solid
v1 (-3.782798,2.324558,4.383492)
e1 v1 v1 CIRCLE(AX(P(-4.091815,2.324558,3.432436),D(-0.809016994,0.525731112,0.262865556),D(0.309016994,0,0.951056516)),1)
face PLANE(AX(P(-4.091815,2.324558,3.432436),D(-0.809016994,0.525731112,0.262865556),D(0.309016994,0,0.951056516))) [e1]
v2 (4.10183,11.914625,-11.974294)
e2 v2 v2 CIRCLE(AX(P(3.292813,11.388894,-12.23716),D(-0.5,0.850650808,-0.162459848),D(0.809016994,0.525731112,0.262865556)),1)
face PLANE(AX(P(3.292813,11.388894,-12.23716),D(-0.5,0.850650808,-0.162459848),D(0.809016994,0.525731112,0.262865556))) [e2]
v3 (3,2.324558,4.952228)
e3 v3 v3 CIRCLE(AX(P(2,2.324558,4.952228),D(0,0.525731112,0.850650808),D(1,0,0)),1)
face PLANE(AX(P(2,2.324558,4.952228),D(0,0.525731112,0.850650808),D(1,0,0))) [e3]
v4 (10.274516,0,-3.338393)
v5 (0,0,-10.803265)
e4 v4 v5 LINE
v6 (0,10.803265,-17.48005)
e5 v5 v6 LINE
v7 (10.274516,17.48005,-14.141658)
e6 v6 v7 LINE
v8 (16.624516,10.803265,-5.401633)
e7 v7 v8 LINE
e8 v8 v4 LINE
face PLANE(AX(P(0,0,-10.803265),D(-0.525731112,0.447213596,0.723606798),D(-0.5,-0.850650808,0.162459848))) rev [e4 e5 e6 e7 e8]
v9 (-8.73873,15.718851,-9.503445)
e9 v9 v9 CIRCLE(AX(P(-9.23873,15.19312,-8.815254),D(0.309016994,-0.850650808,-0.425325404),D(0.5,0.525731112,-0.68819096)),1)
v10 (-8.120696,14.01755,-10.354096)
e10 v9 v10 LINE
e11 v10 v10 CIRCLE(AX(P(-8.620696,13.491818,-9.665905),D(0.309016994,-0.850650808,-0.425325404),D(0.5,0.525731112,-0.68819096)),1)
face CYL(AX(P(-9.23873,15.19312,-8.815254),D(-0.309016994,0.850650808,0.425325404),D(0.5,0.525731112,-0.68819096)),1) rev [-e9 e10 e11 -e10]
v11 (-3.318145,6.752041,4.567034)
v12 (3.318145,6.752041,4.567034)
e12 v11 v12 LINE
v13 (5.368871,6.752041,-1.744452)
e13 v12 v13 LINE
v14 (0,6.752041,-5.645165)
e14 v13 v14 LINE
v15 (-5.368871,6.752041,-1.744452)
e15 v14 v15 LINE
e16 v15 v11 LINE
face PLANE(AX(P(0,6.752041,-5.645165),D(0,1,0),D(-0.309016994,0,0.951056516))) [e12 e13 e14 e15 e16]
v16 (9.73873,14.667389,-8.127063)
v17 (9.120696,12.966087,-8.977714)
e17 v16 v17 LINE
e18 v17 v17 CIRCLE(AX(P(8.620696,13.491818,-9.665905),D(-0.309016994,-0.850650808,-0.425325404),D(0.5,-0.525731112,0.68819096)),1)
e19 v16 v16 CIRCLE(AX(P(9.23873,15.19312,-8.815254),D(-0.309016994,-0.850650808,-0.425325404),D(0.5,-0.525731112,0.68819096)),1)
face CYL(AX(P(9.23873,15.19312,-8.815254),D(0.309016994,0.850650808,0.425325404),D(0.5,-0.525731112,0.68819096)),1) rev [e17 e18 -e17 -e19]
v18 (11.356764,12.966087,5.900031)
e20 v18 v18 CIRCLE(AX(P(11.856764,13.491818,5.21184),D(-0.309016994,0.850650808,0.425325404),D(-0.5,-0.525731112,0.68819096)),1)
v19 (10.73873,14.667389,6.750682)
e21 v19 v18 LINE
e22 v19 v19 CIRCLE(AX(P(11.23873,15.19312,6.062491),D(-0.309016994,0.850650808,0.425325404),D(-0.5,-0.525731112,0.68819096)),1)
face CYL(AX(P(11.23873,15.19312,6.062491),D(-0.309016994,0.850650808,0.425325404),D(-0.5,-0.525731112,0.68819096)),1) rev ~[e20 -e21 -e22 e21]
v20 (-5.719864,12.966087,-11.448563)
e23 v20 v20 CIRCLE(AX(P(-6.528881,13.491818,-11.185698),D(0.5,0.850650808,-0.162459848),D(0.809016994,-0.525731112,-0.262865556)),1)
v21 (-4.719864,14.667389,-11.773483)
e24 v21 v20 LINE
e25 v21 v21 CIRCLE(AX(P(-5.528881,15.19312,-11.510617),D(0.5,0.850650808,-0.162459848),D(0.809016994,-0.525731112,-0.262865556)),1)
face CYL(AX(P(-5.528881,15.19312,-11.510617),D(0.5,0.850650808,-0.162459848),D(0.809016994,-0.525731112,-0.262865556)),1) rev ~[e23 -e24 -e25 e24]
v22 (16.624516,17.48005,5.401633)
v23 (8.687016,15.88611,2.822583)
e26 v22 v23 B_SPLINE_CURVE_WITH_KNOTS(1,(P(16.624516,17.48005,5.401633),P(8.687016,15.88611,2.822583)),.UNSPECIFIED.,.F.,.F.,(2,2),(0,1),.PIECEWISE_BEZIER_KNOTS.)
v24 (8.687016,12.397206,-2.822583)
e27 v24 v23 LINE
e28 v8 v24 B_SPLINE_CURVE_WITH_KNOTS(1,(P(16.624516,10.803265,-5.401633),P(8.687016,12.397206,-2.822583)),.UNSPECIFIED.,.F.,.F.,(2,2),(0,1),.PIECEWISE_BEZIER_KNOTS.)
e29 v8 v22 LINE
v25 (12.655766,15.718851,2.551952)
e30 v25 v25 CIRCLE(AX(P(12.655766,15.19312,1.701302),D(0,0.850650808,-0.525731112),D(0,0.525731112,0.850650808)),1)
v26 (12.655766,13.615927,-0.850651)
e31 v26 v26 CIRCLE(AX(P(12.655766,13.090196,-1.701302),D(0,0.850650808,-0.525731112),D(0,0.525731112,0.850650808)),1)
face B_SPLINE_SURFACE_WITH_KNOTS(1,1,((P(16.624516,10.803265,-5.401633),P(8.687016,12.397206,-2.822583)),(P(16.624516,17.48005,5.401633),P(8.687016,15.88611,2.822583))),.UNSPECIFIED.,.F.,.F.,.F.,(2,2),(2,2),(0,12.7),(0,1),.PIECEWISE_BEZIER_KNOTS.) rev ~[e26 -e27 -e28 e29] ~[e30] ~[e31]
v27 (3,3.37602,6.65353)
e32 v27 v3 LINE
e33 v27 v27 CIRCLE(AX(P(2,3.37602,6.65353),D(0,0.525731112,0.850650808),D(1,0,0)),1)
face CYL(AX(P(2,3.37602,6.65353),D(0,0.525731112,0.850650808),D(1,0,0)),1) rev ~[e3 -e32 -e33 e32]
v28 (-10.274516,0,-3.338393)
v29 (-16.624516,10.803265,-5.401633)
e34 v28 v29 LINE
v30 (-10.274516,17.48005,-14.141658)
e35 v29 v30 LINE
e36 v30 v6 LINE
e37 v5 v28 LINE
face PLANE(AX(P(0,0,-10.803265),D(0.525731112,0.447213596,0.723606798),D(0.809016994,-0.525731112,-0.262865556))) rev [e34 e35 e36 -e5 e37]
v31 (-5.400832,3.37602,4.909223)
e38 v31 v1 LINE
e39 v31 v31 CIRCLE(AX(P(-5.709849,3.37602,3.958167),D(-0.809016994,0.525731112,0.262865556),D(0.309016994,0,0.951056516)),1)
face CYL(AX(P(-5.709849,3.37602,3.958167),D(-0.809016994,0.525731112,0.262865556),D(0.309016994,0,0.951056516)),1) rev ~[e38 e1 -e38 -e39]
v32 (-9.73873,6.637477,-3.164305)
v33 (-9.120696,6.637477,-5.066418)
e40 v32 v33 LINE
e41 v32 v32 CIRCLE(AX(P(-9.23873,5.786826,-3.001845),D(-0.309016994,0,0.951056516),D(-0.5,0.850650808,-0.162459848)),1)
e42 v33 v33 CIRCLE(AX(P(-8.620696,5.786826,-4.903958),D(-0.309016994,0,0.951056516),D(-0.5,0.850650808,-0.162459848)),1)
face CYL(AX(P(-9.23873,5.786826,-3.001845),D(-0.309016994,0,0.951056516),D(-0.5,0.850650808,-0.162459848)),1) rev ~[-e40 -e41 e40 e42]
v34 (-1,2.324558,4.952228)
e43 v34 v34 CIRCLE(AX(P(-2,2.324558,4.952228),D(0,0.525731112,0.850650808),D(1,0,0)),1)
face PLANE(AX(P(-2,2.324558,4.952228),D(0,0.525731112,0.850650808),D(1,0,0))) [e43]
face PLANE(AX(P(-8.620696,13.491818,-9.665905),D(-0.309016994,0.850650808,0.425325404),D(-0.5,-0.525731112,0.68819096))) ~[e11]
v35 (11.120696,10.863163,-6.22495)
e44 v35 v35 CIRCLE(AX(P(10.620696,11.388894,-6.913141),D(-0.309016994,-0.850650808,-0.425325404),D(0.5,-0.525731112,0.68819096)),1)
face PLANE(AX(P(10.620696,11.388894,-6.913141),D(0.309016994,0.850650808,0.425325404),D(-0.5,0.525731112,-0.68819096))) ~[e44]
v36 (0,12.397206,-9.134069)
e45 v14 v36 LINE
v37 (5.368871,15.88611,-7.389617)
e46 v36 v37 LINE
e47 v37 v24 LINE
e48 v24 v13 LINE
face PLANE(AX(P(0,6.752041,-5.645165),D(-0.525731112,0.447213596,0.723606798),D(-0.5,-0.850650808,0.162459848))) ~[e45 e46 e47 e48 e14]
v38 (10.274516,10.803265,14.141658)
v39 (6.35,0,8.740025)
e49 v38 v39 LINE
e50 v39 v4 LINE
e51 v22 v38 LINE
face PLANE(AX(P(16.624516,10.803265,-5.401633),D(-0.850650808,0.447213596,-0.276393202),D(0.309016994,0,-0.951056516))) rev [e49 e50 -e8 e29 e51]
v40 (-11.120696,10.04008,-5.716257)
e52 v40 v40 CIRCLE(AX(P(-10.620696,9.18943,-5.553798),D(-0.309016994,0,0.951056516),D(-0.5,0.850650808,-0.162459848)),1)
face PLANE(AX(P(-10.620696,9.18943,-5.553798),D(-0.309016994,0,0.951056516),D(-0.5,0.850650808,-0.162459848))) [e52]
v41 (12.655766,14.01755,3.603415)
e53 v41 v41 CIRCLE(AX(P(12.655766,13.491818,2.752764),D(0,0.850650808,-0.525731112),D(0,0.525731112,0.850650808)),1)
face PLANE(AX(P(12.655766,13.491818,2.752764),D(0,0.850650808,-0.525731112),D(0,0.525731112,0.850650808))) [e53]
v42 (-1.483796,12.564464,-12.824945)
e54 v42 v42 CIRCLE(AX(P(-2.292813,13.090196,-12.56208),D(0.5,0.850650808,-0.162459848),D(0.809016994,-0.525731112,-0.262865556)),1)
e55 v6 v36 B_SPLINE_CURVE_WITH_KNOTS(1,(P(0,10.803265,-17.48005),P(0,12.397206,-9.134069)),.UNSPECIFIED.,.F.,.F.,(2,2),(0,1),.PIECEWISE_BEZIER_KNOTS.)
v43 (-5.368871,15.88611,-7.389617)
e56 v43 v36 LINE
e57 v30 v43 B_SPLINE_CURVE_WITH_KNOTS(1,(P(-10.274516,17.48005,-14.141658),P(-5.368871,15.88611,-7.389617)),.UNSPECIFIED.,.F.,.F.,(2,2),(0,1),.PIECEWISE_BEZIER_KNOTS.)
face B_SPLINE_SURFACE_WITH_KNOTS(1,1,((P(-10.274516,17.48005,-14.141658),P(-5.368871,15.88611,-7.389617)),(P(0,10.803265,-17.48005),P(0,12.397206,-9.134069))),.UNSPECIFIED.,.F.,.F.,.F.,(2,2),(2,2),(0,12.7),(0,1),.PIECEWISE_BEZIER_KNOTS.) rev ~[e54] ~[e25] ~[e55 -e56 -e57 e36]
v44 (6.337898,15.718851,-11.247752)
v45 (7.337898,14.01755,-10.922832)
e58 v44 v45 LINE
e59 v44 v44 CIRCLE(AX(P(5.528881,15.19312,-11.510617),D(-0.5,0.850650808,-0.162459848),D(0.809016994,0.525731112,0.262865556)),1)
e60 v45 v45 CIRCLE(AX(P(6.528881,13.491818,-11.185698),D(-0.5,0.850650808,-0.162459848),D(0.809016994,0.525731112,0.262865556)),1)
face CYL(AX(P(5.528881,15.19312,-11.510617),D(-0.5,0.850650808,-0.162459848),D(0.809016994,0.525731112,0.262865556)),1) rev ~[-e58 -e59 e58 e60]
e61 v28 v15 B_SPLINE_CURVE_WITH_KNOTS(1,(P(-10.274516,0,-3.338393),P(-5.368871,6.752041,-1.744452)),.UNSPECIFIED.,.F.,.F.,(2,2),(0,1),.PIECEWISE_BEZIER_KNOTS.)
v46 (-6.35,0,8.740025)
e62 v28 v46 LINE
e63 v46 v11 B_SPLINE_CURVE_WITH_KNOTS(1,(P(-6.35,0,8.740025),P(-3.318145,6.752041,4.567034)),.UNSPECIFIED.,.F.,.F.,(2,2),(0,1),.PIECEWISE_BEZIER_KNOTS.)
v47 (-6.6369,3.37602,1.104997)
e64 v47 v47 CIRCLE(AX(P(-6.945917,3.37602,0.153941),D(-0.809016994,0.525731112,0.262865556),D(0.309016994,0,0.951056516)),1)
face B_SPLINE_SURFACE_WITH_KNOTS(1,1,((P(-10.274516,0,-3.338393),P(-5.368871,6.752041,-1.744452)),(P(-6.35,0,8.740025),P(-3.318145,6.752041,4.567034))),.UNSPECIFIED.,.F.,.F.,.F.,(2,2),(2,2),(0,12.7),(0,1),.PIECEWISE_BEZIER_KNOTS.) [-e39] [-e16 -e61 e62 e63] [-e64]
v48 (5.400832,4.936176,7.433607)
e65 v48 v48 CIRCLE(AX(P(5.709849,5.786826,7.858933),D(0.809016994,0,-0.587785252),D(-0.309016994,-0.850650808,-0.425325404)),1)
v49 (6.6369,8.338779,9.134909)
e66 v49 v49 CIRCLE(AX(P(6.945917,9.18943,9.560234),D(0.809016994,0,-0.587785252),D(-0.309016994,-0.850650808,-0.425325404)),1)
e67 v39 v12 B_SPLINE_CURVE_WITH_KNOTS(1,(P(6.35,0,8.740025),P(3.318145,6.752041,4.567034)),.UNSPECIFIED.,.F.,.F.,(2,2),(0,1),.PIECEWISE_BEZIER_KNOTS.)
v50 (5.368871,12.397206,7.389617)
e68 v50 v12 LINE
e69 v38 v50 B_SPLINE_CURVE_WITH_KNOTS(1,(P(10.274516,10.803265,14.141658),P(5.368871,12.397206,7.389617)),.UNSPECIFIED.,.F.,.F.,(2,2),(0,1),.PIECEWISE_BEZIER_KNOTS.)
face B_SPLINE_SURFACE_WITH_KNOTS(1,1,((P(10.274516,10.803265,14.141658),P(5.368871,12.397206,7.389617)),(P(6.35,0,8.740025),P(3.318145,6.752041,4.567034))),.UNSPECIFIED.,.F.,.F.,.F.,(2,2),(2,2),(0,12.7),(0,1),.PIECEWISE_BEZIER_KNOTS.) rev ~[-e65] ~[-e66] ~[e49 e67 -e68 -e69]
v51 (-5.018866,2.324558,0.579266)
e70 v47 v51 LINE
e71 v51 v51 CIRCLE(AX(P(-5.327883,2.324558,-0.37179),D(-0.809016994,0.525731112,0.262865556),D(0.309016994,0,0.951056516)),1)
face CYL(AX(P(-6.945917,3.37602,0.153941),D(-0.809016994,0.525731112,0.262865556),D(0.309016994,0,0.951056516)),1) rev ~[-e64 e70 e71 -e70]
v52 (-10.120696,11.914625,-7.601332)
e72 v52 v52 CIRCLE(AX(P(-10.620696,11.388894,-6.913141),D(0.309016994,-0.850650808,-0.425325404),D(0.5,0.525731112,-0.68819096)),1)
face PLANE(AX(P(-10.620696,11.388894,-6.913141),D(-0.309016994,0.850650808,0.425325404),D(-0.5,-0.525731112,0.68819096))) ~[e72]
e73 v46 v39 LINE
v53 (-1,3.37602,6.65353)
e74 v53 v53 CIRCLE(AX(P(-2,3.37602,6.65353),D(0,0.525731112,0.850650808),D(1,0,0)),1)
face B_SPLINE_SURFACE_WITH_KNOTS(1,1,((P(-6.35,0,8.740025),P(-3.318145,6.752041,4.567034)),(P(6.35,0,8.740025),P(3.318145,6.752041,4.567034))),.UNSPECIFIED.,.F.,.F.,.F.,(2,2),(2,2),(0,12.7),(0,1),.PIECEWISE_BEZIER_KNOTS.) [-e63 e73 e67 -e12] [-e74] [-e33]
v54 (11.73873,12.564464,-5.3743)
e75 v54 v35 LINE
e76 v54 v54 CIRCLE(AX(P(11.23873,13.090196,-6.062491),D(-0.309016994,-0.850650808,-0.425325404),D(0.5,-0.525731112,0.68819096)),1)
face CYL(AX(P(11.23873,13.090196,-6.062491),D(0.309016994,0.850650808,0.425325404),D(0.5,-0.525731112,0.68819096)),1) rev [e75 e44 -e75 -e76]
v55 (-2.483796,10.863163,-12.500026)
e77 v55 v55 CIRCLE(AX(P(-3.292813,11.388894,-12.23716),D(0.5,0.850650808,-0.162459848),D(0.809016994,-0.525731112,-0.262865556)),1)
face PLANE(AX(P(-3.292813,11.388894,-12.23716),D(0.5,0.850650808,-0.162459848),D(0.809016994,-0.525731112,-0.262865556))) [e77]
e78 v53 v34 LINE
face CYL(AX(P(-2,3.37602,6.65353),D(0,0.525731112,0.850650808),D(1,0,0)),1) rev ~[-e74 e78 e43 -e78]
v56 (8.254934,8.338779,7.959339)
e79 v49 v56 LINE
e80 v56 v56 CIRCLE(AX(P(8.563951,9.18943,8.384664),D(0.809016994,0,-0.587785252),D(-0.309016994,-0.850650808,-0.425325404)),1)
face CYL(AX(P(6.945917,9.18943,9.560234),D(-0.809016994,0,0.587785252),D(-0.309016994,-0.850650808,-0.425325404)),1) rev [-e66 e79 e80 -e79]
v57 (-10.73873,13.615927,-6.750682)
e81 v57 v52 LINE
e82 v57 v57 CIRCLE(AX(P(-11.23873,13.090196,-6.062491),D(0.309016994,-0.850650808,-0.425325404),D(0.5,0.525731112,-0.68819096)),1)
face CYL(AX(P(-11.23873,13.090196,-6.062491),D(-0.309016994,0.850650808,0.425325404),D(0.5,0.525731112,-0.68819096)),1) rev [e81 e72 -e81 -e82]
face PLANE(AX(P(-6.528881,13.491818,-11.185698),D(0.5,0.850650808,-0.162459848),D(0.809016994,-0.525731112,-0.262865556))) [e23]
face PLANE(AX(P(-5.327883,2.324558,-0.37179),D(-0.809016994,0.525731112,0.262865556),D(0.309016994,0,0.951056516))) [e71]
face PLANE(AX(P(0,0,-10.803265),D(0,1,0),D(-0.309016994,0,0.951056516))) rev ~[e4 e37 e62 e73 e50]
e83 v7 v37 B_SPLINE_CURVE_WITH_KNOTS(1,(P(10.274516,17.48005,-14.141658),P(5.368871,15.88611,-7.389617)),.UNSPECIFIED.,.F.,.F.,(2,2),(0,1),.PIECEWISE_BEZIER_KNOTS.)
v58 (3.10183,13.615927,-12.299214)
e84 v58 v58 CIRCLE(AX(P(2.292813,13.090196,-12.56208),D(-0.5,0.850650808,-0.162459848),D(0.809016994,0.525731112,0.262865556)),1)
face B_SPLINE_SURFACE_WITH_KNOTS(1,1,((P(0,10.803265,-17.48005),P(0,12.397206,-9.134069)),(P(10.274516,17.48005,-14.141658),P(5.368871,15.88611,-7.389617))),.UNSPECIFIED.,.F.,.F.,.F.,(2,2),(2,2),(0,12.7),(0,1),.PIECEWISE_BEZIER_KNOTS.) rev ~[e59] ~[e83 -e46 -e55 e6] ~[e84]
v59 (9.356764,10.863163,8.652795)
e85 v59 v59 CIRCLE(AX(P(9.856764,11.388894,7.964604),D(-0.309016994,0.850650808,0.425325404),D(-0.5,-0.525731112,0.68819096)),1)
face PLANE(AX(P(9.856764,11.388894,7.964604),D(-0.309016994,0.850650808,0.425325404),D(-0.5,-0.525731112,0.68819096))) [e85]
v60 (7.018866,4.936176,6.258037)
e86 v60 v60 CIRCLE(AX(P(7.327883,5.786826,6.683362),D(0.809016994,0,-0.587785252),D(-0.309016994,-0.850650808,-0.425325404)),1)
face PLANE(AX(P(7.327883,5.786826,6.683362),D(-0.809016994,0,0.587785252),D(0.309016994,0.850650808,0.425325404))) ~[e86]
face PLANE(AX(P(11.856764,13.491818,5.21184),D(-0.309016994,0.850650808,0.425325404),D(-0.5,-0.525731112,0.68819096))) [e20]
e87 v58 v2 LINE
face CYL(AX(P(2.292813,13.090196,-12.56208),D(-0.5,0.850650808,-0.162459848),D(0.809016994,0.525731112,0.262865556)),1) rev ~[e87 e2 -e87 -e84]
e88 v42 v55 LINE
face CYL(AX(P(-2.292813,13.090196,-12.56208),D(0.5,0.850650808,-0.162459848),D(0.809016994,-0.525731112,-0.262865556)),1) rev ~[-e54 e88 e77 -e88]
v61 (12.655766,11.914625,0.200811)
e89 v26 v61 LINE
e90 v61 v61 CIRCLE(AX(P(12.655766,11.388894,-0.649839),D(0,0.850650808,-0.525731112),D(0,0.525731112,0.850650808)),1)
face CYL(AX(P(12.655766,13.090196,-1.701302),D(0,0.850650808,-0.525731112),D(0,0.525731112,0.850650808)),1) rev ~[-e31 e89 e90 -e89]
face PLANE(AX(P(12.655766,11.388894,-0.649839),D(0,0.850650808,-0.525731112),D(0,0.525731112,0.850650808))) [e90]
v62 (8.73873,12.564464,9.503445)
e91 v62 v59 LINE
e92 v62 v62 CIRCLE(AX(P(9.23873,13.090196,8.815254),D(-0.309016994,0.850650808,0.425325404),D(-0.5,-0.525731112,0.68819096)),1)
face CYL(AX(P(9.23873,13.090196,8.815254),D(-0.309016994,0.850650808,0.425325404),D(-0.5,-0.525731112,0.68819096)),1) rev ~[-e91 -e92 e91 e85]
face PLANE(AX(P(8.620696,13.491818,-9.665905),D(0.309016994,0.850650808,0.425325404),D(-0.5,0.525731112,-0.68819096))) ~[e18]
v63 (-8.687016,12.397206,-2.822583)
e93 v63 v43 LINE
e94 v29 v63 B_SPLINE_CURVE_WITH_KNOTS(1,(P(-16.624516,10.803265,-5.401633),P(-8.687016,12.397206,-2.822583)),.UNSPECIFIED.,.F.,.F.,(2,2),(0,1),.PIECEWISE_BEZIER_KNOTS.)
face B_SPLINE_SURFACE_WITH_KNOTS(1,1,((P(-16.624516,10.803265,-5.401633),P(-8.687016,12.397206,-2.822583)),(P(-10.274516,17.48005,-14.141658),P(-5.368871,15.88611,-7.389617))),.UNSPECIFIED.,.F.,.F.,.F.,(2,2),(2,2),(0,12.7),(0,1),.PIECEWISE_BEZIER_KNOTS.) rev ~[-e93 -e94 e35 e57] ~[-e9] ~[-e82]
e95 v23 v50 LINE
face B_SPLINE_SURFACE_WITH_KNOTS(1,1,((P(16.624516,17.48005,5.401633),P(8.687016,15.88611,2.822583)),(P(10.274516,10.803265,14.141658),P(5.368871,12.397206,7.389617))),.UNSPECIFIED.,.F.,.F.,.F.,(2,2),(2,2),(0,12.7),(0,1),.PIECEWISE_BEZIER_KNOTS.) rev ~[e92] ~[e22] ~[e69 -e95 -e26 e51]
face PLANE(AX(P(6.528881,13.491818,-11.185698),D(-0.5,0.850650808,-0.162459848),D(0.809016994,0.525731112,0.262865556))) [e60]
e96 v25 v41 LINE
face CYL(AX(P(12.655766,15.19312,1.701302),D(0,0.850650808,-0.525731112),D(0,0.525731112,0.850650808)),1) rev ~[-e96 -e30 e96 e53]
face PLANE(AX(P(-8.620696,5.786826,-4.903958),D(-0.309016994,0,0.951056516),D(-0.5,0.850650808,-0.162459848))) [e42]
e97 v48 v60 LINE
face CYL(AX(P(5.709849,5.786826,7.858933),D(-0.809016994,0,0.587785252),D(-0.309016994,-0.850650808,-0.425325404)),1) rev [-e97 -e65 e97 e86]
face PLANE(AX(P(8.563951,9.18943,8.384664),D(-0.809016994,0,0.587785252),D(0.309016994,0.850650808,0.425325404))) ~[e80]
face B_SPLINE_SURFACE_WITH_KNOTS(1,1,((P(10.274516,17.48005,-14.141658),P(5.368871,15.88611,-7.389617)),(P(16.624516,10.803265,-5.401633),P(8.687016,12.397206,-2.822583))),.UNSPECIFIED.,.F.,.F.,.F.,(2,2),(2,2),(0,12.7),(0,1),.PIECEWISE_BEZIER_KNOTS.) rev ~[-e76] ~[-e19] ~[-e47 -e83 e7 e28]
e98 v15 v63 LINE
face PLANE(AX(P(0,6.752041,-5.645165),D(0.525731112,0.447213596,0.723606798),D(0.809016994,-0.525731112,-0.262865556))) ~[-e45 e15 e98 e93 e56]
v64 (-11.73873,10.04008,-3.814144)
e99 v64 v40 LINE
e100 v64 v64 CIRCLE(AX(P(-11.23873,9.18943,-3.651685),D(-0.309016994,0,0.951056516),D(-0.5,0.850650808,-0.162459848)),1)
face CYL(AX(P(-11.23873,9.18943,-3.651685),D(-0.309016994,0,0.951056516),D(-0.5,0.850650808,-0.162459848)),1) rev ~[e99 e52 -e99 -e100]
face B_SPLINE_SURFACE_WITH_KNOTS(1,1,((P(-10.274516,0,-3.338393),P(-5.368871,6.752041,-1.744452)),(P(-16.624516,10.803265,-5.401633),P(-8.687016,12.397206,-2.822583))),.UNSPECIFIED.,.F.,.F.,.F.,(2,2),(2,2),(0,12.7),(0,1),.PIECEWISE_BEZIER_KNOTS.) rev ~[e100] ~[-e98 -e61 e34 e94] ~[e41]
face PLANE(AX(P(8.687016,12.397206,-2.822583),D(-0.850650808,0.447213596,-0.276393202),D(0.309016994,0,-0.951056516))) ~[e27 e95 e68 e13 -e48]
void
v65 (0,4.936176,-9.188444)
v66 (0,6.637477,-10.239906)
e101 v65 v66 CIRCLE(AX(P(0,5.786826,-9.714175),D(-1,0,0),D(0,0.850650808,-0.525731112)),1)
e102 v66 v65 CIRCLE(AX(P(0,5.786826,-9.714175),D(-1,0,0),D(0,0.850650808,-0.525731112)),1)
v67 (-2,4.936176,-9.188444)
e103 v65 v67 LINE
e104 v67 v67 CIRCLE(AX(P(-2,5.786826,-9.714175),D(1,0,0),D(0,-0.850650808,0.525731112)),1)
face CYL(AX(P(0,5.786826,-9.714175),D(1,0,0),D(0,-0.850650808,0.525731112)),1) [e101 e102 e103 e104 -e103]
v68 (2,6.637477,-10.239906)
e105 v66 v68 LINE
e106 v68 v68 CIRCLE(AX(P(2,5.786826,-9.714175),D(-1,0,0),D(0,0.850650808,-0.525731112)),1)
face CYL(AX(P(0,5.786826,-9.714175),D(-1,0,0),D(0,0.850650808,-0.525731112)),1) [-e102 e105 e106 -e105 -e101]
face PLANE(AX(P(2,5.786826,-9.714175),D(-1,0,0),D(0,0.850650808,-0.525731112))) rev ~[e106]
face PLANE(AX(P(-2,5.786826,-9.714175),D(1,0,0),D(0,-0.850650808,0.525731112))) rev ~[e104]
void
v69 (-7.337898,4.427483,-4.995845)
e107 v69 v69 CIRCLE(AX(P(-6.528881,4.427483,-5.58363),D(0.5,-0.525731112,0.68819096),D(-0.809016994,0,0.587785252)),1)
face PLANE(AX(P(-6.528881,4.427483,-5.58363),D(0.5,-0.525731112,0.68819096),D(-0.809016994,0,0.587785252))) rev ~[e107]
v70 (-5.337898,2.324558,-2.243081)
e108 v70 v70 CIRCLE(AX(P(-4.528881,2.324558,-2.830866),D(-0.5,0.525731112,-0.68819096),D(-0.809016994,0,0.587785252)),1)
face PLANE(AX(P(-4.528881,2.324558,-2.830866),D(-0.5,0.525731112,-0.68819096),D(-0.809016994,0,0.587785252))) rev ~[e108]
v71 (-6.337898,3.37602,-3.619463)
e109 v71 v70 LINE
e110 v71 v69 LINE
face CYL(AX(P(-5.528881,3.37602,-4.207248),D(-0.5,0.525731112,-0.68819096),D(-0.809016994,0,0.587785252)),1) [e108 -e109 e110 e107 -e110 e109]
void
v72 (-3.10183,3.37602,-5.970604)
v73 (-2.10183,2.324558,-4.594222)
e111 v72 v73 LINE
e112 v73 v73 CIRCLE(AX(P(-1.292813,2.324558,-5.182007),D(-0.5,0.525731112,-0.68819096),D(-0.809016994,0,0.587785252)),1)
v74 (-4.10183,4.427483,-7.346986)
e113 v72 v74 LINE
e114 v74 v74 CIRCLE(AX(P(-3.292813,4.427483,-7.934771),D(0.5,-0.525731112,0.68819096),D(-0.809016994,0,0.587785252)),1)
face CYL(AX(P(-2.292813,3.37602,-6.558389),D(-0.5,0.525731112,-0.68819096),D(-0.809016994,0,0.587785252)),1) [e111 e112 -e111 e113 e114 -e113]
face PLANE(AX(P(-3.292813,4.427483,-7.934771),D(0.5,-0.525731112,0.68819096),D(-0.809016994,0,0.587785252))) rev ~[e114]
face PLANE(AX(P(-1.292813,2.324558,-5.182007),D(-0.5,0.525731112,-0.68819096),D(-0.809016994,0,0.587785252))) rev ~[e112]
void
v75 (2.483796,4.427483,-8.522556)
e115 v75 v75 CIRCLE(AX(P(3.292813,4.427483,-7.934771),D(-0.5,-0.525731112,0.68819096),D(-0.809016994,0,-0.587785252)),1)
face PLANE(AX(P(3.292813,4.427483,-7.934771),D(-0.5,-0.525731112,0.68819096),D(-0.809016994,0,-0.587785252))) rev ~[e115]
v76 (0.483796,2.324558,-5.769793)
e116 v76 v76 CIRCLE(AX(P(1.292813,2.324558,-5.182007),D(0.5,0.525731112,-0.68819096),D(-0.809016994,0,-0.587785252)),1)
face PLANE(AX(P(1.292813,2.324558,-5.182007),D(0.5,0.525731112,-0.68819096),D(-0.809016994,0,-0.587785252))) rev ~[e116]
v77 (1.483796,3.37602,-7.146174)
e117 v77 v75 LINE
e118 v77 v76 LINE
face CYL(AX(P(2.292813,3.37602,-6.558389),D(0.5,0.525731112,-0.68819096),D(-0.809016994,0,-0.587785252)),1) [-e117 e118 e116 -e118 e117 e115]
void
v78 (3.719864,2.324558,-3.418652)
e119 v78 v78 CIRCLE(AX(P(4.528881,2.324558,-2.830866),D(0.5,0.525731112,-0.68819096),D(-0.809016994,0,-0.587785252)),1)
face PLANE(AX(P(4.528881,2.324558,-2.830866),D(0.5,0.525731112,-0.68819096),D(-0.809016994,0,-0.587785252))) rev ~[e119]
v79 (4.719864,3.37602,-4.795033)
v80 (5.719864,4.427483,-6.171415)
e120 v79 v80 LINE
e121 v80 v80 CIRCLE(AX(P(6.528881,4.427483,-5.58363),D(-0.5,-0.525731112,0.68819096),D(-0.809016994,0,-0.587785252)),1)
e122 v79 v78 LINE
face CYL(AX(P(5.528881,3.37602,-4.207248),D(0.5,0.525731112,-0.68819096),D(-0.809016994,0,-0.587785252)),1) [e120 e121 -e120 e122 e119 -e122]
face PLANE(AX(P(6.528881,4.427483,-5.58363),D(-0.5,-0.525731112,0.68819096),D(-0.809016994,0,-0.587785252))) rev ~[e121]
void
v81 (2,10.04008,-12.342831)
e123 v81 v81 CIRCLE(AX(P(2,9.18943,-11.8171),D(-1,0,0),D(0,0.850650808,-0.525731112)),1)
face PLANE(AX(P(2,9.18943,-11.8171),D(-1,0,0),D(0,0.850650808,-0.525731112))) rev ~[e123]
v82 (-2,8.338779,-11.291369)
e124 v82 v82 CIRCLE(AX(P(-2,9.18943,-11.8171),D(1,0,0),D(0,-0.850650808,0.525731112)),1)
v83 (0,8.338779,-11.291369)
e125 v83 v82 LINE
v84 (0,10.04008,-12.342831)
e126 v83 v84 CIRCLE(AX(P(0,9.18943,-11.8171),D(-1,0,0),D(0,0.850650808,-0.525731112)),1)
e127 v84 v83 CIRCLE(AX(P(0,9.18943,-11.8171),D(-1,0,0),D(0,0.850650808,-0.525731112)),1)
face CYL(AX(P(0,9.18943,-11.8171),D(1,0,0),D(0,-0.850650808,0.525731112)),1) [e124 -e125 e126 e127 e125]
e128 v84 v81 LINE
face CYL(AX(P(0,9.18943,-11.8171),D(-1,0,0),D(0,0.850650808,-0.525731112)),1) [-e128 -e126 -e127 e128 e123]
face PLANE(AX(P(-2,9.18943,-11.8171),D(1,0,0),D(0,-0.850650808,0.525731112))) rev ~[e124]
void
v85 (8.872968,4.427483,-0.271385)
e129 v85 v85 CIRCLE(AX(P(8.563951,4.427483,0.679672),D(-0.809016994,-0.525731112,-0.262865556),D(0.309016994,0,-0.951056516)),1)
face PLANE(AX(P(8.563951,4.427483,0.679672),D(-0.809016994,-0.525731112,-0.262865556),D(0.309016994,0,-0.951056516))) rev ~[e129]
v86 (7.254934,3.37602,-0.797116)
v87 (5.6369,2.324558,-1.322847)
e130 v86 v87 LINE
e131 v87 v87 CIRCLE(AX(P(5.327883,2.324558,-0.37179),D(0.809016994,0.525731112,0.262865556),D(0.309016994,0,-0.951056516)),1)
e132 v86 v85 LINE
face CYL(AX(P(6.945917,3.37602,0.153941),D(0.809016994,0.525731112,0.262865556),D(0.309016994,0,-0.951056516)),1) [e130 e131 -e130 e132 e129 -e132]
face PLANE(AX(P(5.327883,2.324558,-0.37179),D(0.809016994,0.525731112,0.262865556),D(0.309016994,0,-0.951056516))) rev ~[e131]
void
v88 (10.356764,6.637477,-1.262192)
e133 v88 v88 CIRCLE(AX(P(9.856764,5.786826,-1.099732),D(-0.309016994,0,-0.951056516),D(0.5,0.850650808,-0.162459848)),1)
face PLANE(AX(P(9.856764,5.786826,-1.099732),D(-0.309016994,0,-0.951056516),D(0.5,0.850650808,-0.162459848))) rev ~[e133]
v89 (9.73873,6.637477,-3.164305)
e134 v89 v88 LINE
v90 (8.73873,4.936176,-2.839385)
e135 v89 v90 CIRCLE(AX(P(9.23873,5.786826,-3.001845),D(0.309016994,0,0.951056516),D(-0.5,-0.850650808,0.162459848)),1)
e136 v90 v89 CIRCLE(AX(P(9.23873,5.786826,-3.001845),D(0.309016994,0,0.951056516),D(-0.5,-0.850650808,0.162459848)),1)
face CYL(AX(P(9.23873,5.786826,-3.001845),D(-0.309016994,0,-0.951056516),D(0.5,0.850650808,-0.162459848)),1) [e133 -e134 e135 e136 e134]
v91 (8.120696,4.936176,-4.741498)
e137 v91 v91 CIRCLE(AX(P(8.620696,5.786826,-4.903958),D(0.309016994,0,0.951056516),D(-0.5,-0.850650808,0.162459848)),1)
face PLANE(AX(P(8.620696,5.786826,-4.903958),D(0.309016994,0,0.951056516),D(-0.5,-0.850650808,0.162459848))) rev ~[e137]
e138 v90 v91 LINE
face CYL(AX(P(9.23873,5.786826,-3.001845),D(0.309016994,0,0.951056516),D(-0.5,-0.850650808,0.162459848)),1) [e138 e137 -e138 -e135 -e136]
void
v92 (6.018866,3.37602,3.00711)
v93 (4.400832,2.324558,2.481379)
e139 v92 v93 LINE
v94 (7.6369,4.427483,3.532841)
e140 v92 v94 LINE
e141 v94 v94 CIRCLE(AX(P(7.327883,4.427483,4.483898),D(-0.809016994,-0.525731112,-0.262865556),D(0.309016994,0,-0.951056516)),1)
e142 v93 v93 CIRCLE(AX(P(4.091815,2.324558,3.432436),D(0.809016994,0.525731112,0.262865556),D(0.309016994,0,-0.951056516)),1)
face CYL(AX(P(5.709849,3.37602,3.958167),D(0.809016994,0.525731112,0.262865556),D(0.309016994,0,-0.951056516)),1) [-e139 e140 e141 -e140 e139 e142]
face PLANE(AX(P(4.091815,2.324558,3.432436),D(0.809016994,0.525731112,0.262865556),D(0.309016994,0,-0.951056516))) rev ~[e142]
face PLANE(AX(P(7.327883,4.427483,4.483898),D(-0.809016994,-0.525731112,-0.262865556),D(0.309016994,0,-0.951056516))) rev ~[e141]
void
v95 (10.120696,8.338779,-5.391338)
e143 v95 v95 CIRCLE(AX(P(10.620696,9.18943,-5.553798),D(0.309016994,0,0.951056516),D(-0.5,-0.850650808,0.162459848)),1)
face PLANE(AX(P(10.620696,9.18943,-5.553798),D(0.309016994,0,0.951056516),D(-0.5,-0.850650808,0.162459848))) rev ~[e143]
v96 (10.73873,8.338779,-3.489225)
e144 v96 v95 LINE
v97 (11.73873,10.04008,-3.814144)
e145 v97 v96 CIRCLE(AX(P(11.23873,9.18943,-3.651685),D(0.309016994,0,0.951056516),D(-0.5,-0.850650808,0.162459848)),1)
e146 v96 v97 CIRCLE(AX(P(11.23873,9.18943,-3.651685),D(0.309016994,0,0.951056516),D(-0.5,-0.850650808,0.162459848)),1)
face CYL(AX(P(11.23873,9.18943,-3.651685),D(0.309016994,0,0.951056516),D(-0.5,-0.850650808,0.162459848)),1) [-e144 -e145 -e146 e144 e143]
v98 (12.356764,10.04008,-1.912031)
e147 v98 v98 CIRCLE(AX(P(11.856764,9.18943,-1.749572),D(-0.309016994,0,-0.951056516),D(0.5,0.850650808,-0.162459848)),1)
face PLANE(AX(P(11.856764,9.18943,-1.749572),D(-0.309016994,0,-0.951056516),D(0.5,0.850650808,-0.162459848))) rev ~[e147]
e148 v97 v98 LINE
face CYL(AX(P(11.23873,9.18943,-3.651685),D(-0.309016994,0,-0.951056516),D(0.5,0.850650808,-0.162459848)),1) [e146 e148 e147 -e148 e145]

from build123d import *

# Parameters (mm, degrees)
BOSS_EXTRUDE1_DEPTH     = 6.752040791
BOSS_EXTRUDE1_TAPER     = 31.717474411
SKETCH3_R               = 1
CUT_EXTRUDE1_DEPTH      = 2
CIRPATTERN1_COUNT       = 5
MIRROR3_COPY_1_SKETCH_R = 1
MIRROR3_COPY_1_DEPTH    = 2
MIRROR3_COPY_2_SKETCH_R = 1
MIRROR3_COPY_2_DEPTH    = 2
MIRROR3_COPY_3_SKETCH_R = 1
MIRROR3_COPY_3_DEPTH    = 2
MIRROR3_COPY_4_SKETCH_R = 1
MIRROR3_COPY_4_DEPTH    = 2
MIRROR4_COPY_1_SKETCH_R = 1
MIRROR4_COPY_1_DEPTH    = 2
MIRROR4_COPY_2_SKETCH_R = 1
MIRROR4_COPY_2_DEPTH    = 2
MIRROR4_COPY_3_SKETCH_R = 1
MIRROR4_COPY_3_DEPTH    = 2
MIRROR4_COPY_4_SKETCH_R = 1
MIRROR4_COPY_4_DEPTH    = 2
MIRROR5_COPY_1_SKETCH_R = 1
MIRROR5_COPY_1_DEPTH    = 2
MIRROR5_COPY_2_SKETCH_R = 1
MIRROR5_COPY_2_DEPTH    = 2
MIRROR5_COPY_3_SKETCH_R = 1
MIRROR5_COPY_3_DEPTH    = 2
MIRROR5_COPY_4_SKETCH_R = 1
MIRROR5_COPY_4_DEPTH    = 2


with BuildPart() as part:
    # Sketch1 → Boss-Extrude1 (new body)
    with BuildSketch(Plane(origin=(0, 0, 0), x_dir=(1, 0, 0), z_dir=(0, 1, 0))):
        Polygon((0, 10.803265266), (-10.274515829, 3.338392562), (-6.35, -8.740025195), (6.35, -8.740025195), (10.274515829, 3.338392562), align=None)
    boss_extrude1 = extrude(amount=BOSS_EXTRUDE1_DEPTH, taper=BOSS_EXTRUDE1_TAPER)

    # Sketch3 → Cut-Extrude1 (cut)
    with BuildSketch(Plane(origin=(0, 3.908658092, 6.324341644), x_dir=(1, 0, 0), z_dir=(1.6266940928737823e-15, 0.5257311121191348, 0.8506508083520392))):
        with Locations((-2, -0.626153166)):
            Circle(SKETCH3_R)
        with Locations((2, -0.626153166)):
            Circle(SKETCH3_R)
    cut_extrude1 = extrude(amount=-CUT_EXTRUDE1_DEPTH, mode=Mode.SUBTRACT)

    # CirPattern1: Cut-Extrude1 ×5 about axis
    cirpattern1_axis = Axis((0, 14.848740719, 0), (0, -1, 0))
    for i in range(1, CIRPATTERN1_COUNT):
        add(cut_extrude1.rotate(cirpattern1_axis, i * 360 / CIRPATTERN1_COUNT), mode=Mode.SUBTRACT)

    # Mirror3: Boss-Extrude1, Cut-Extrude1 across plane
    add(boss_extrude1.mirror(Plane(origin=(10.274515829, 0, -3.338392562), x_dir=(0.4742680099309791, 0.49867489660708614, 0.7255296012224591), z_dir=(0.4999999999999987, 0.5257311121191346, -0.688190960235587))))
    add(cut_extrude1.mirror(Plane(origin=(10.274515829, 0, -3.338392562), x_dir=(0.4742680099309791, 0.49867489660708614, 0.7255296012224591), z_dir=(0.4999999999999987, 0.5257311121191346, -0.688190960235587))), mode=Mode.SUBTRACT)

    # Mirror3 copy 1 sketch → Mirror3 copy 1 (cut)
    with BuildSketch(Plane(origin=(3.717354749, 14.141657828, -11.440841512), x_dir=(0.8090169943749475, 0.5257311121191339, 0.26286555605956596), z_dir=(-0.5000000000000014, 0.8506508083520399, -0.16245984811644945))):
        with Locations((-2, 0.626153166)):
            Circle(MIRROR3_COPY_1_SKETCH_R)
        with Locations((2, 0.626153166)):
            Circle(MIRROR3_COPY_1_SKETCH_R)
    extrude(amount=-MIRROR3_COPY_1_DEPTH, mode=Mode.SUBTRACT)

    # Mirror3 copy 2 sketch → Mirror3 copy 2 (cut)
    with BuildSketch(Plane(origin=(0, 7.817316184, -10.232999736), x_dir=(-1.2043746199203667e-15, 0.8506508083520407, -0.5257311121191327), z_dir=(-1, 0, 0))):
        with Locations((-2, 0.626153166)):
            Circle(MIRROR3_COPY_2_SKETCH_R)
        with Locations((2, 0.626153166)):
            Circle(MIRROR3_COPY_2_SKETCH_R)
    extrude(amount=-MIRROR3_COPY_2_DEPTH, mode=Mode.SUBTRACT)

    # Mirror3 copy 3 sketch → Mirror3 copy 3 (cut)
    with BuildSketch(Plane(origin=(3.717354749, 3.908658092, -5.116499868), x_dir=(-0.8090169943749478, 0, -0.5877852522924727), z_dir=(-0.4999999999999993, -0.5257311121191345, 0.6881909602355869))):
        with Locations((-2, 0.626153166)):
            Circle(MIRROR3_COPY_3_SKETCH_R)
        with Locations((2, 0.626153166)):
            Circle(MIRROR3_COPY_3_SKETCH_R)
    extrude(amount=-MIRROR3_COPY_3_DEPTH, mode=Mode.SUBTRACT)

    # Mirror3 copy 4 sketch → Mirror3 copy 4 (cut)
    with BuildSketch(Plane(origin=(9.73216108, 7.817316184, -3.162170822), x_dir=(-0.4999999999999984, -0.8506508083520413, 0.1624598481164517), z_dir=(0.3090169943749473, -1.1894596157351711e-15, 0.9510565162951536))):
        with Locations((-2, 0.626153166)):
            Circle(MIRROR3_COPY_4_SKETCH_R)
        with Locations((2, 0.626153166)):
            Circle(MIRROR3_COPY_4_SKETCH_R)
    extrude(amount=-MIRROR3_COPY_4_DEPTH, mode=Mode.SUBTRACT)

    # Mirror4: Boss-Extrude1, Cut-Extrude1 across plane
    add(boss_extrude1.mirror(Plane(origin=(6.35, 0, 8.740025195), x_dir=(-0.22041412184245382, -0.1432337790289861, 0.9648324722134385), z_dir=(0.8090169943749472, 0.5257311121191346, 0.26286555605956535))))
    add(cut_extrude1.mirror(Plane(origin=(6.35, 0, 8.740025195), x_dir=(-0.22041412184245382, -0.1432337790289861, 0.9648324722134385), z_dir=(0.8090169943749472, 0.5257311121191346, 0.26286555605956535))), mode=Mode.SUBTRACT)

    # Mirror4 copy 1 sketch → Mirror4 copy 1 (cut)
    with BuildSketch(Plane(origin=(9.73216108, 14.141657828, 7.070828914), x_dir=(-0.49999999999999695, -0.5257311121191344, 0.6881909602355882), z_dir=(-0.30901699437495, 0.8506508083520392, 0.4253254041760192))):
        with Locations((-2, 0.626153166)):
            Circle(MIRROR4_COPY_1_SKETCH_R)
        with Locations((2, 0.626153166)):
            Circle(MIRROR4_COPY_1_SKETCH_R)
    extrude(amount=-MIRROR4_COPY_1_DEPTH, mode=Mode.SUBTRACT)

    # Mirror4 copy 2 sketch → Mirror4 copy 2 (cut)
    with BuildSketch(Plane(origin=(12.029612663, 14.141657828, 0), x_dir=(0, 0.5257311121191339, 0.8506508083520398), z_dir=(-4.1633363423443354e-15, 0.8506508083520398, -0.5257311121191338))):
        with Locations((-2, 0.626153166)):
            Circle(MIRROR4_COPY_2_SKETCH_R)
        with Locations((2, 0.626153166)):
            Circle(MIRROR4_COPY_2_SKETCH_R)
    extrude(amount=-MIRROR4_COPY_2_DEPTH, mode=Mode.SUBTRACT)

    # Mirror4 copy 3 sketch → Mirror4 copy 3 (cut)
    with BuildSketch(Plane(origin=(9.73216108, 7.817316184, -3.162170822), x_dir=(0.4999999999999985, 0.8506508083520405, -0.1624598481164543), z_dir=(-0.3090169943749497, 0, -0.9510565162951529))):
        with Locations((-2, 0.626153166)):
            Circle(MIRROR4_COPY_3_SKETCH_R)
        with Locations((2, 0.626153166)):
            Circle(MIRROR4_COPY_3_SKETCH_R)
    extrude(amount=-MIRROR4_COPY_3_DEPTH, mode=Mode.SUBTRACT)

    # Mirror4 copy 4 sketch → Mirror4 copy 4 (cut)
    with BuildSketch(Plane(origin=(6.014806331, 3.908658092, 1.954329046), x_dir=(0.3090169943749467, 0, -0.9510565162951539), z_dir=(-0.8090169943749471, -0.5257311121191344, -0.2628655560595658))):
        with Locations((-2, 0.626153166)):
            Circle(MIRROR4_COPY_4_SKETCH_R)
        with Locations((2, 0.626153166)):
            Circle(MIRROR4_COPY_4_SKETCH_R)
    extrude(amount=-MIRROR4_COPY_4_DEPTH, mode=Mode.SUBTRACT)

    # Mirror5: Boss-Extrude1, Cut-Extrude1 across plane
    add(boss_extrude1.mirror(Plane(origin=(0, 0, -10.803265266), x_dir=(-0.4742680099309791, 0.49867489660708403, 0.7255296012224607), z_dir=(-0.5000000000000008, 0.5257311121191346, -0.6881909602355855))))
    add(cut_extrude1.mirror(Plane(origin=(0, 0, -10.803265266), x_dir=(-0.4742680099309791, 0.49867489660708403, 0.7255296012224607), z_dir=(-0.5000000000000008, 0.5257311121191346, -0.6881909602355855))), mode=Mode.SUBTRACT)

    # Mirror5 copy 1 sketch → Mirror5 copy 1 (cut)
    with BuildSketch(Plane(origin=(-9.73216108, 7.817316184, -3.162170822), x_dir=(-0.4999999999999997, 0.8506508083520404, -0.16245984811645123), z_dir=(-0.30901699437494484, 0, 0.9510565162951544))):
        with Locations((-2, 0.626153166)):
            Circle(MIRROR5_COPY_1_SKETCH_R)
        with Locations((2, 0.626153166)):
            Circle(MIRROR5_COPY_1_SKETCH_R)
    extrude(amount=-MIRROR5_COPY_1_DEPTH, mode=Mode.SUBTRACT)

    # Mirror5 copy 2 sketch → Mirror5 copy 2 (cut)
    with BuildSketch(Plane(origin=(-3.717354749, 3.908658092, -5.116499868), x_dir=(-0.8090169943749469, 0, 0.587785252292474), z_dir=(0.5000000000000007, -0.5257311121191344, 0.6881909602355858))):
        with Locations((-2, 0.626153166)):
            Circle(MIRROR5_COPY_2_SKETCH_R)
        with Locations((2, 0.626153166)):
            Circle(MIRROR5_COPY_2_SKETCH_R)
    extrude(amount=-MIRROR5_COPY_2_DEPTH, mode=Mode.SUBTRACT)

    # Mirror5 copy 3 sketch → Mirror5 copy 3 (cut)
    with BuildSketch(Plane(origin=(0, 7.817316184, -10.232999736), x_dir=(0, -0.8506508083520413, 0.5257311121191314), z_dir=(1, 0, 0))):
        with Locations((-2, 0.626153166)):
            Circle(MIRROR5_COPY_3_SKETCH_R)
        with Locations((2, 0.626153166)):
            Circle(MIRROR5_COPY_3_SKETCH_R)
    extrude(amount=-MIRROR5_COPY_3_DEPTH, mode=Mode.SUBTRACT)

    # Mirror5 copy 4 sketch → Mirror5 copy 4 (cut)
    with BuildSketch(Plane(origin=(-3.717354749, 14.141657828, -11.440841512), x_dir=(0.809016994374946, -0.5257311121191345, -0.2628655560595698), z_dir=(0.5000000000000017, 0.8506508083520392, -0.16245984811645123))):
        with Locations((-2, 0.626153166)):
            Circle(MIRROR5_COPY_4_SKETCH_R)
        with Locations((2, 0.626153166)):
            Circle(MIRROR5_COPY_4_SKETCH_R)
    extrude(amount=-MIRROR5_COPY_4_DEPTH, mode=Mode.SUBTRACT)


solid = part.part
